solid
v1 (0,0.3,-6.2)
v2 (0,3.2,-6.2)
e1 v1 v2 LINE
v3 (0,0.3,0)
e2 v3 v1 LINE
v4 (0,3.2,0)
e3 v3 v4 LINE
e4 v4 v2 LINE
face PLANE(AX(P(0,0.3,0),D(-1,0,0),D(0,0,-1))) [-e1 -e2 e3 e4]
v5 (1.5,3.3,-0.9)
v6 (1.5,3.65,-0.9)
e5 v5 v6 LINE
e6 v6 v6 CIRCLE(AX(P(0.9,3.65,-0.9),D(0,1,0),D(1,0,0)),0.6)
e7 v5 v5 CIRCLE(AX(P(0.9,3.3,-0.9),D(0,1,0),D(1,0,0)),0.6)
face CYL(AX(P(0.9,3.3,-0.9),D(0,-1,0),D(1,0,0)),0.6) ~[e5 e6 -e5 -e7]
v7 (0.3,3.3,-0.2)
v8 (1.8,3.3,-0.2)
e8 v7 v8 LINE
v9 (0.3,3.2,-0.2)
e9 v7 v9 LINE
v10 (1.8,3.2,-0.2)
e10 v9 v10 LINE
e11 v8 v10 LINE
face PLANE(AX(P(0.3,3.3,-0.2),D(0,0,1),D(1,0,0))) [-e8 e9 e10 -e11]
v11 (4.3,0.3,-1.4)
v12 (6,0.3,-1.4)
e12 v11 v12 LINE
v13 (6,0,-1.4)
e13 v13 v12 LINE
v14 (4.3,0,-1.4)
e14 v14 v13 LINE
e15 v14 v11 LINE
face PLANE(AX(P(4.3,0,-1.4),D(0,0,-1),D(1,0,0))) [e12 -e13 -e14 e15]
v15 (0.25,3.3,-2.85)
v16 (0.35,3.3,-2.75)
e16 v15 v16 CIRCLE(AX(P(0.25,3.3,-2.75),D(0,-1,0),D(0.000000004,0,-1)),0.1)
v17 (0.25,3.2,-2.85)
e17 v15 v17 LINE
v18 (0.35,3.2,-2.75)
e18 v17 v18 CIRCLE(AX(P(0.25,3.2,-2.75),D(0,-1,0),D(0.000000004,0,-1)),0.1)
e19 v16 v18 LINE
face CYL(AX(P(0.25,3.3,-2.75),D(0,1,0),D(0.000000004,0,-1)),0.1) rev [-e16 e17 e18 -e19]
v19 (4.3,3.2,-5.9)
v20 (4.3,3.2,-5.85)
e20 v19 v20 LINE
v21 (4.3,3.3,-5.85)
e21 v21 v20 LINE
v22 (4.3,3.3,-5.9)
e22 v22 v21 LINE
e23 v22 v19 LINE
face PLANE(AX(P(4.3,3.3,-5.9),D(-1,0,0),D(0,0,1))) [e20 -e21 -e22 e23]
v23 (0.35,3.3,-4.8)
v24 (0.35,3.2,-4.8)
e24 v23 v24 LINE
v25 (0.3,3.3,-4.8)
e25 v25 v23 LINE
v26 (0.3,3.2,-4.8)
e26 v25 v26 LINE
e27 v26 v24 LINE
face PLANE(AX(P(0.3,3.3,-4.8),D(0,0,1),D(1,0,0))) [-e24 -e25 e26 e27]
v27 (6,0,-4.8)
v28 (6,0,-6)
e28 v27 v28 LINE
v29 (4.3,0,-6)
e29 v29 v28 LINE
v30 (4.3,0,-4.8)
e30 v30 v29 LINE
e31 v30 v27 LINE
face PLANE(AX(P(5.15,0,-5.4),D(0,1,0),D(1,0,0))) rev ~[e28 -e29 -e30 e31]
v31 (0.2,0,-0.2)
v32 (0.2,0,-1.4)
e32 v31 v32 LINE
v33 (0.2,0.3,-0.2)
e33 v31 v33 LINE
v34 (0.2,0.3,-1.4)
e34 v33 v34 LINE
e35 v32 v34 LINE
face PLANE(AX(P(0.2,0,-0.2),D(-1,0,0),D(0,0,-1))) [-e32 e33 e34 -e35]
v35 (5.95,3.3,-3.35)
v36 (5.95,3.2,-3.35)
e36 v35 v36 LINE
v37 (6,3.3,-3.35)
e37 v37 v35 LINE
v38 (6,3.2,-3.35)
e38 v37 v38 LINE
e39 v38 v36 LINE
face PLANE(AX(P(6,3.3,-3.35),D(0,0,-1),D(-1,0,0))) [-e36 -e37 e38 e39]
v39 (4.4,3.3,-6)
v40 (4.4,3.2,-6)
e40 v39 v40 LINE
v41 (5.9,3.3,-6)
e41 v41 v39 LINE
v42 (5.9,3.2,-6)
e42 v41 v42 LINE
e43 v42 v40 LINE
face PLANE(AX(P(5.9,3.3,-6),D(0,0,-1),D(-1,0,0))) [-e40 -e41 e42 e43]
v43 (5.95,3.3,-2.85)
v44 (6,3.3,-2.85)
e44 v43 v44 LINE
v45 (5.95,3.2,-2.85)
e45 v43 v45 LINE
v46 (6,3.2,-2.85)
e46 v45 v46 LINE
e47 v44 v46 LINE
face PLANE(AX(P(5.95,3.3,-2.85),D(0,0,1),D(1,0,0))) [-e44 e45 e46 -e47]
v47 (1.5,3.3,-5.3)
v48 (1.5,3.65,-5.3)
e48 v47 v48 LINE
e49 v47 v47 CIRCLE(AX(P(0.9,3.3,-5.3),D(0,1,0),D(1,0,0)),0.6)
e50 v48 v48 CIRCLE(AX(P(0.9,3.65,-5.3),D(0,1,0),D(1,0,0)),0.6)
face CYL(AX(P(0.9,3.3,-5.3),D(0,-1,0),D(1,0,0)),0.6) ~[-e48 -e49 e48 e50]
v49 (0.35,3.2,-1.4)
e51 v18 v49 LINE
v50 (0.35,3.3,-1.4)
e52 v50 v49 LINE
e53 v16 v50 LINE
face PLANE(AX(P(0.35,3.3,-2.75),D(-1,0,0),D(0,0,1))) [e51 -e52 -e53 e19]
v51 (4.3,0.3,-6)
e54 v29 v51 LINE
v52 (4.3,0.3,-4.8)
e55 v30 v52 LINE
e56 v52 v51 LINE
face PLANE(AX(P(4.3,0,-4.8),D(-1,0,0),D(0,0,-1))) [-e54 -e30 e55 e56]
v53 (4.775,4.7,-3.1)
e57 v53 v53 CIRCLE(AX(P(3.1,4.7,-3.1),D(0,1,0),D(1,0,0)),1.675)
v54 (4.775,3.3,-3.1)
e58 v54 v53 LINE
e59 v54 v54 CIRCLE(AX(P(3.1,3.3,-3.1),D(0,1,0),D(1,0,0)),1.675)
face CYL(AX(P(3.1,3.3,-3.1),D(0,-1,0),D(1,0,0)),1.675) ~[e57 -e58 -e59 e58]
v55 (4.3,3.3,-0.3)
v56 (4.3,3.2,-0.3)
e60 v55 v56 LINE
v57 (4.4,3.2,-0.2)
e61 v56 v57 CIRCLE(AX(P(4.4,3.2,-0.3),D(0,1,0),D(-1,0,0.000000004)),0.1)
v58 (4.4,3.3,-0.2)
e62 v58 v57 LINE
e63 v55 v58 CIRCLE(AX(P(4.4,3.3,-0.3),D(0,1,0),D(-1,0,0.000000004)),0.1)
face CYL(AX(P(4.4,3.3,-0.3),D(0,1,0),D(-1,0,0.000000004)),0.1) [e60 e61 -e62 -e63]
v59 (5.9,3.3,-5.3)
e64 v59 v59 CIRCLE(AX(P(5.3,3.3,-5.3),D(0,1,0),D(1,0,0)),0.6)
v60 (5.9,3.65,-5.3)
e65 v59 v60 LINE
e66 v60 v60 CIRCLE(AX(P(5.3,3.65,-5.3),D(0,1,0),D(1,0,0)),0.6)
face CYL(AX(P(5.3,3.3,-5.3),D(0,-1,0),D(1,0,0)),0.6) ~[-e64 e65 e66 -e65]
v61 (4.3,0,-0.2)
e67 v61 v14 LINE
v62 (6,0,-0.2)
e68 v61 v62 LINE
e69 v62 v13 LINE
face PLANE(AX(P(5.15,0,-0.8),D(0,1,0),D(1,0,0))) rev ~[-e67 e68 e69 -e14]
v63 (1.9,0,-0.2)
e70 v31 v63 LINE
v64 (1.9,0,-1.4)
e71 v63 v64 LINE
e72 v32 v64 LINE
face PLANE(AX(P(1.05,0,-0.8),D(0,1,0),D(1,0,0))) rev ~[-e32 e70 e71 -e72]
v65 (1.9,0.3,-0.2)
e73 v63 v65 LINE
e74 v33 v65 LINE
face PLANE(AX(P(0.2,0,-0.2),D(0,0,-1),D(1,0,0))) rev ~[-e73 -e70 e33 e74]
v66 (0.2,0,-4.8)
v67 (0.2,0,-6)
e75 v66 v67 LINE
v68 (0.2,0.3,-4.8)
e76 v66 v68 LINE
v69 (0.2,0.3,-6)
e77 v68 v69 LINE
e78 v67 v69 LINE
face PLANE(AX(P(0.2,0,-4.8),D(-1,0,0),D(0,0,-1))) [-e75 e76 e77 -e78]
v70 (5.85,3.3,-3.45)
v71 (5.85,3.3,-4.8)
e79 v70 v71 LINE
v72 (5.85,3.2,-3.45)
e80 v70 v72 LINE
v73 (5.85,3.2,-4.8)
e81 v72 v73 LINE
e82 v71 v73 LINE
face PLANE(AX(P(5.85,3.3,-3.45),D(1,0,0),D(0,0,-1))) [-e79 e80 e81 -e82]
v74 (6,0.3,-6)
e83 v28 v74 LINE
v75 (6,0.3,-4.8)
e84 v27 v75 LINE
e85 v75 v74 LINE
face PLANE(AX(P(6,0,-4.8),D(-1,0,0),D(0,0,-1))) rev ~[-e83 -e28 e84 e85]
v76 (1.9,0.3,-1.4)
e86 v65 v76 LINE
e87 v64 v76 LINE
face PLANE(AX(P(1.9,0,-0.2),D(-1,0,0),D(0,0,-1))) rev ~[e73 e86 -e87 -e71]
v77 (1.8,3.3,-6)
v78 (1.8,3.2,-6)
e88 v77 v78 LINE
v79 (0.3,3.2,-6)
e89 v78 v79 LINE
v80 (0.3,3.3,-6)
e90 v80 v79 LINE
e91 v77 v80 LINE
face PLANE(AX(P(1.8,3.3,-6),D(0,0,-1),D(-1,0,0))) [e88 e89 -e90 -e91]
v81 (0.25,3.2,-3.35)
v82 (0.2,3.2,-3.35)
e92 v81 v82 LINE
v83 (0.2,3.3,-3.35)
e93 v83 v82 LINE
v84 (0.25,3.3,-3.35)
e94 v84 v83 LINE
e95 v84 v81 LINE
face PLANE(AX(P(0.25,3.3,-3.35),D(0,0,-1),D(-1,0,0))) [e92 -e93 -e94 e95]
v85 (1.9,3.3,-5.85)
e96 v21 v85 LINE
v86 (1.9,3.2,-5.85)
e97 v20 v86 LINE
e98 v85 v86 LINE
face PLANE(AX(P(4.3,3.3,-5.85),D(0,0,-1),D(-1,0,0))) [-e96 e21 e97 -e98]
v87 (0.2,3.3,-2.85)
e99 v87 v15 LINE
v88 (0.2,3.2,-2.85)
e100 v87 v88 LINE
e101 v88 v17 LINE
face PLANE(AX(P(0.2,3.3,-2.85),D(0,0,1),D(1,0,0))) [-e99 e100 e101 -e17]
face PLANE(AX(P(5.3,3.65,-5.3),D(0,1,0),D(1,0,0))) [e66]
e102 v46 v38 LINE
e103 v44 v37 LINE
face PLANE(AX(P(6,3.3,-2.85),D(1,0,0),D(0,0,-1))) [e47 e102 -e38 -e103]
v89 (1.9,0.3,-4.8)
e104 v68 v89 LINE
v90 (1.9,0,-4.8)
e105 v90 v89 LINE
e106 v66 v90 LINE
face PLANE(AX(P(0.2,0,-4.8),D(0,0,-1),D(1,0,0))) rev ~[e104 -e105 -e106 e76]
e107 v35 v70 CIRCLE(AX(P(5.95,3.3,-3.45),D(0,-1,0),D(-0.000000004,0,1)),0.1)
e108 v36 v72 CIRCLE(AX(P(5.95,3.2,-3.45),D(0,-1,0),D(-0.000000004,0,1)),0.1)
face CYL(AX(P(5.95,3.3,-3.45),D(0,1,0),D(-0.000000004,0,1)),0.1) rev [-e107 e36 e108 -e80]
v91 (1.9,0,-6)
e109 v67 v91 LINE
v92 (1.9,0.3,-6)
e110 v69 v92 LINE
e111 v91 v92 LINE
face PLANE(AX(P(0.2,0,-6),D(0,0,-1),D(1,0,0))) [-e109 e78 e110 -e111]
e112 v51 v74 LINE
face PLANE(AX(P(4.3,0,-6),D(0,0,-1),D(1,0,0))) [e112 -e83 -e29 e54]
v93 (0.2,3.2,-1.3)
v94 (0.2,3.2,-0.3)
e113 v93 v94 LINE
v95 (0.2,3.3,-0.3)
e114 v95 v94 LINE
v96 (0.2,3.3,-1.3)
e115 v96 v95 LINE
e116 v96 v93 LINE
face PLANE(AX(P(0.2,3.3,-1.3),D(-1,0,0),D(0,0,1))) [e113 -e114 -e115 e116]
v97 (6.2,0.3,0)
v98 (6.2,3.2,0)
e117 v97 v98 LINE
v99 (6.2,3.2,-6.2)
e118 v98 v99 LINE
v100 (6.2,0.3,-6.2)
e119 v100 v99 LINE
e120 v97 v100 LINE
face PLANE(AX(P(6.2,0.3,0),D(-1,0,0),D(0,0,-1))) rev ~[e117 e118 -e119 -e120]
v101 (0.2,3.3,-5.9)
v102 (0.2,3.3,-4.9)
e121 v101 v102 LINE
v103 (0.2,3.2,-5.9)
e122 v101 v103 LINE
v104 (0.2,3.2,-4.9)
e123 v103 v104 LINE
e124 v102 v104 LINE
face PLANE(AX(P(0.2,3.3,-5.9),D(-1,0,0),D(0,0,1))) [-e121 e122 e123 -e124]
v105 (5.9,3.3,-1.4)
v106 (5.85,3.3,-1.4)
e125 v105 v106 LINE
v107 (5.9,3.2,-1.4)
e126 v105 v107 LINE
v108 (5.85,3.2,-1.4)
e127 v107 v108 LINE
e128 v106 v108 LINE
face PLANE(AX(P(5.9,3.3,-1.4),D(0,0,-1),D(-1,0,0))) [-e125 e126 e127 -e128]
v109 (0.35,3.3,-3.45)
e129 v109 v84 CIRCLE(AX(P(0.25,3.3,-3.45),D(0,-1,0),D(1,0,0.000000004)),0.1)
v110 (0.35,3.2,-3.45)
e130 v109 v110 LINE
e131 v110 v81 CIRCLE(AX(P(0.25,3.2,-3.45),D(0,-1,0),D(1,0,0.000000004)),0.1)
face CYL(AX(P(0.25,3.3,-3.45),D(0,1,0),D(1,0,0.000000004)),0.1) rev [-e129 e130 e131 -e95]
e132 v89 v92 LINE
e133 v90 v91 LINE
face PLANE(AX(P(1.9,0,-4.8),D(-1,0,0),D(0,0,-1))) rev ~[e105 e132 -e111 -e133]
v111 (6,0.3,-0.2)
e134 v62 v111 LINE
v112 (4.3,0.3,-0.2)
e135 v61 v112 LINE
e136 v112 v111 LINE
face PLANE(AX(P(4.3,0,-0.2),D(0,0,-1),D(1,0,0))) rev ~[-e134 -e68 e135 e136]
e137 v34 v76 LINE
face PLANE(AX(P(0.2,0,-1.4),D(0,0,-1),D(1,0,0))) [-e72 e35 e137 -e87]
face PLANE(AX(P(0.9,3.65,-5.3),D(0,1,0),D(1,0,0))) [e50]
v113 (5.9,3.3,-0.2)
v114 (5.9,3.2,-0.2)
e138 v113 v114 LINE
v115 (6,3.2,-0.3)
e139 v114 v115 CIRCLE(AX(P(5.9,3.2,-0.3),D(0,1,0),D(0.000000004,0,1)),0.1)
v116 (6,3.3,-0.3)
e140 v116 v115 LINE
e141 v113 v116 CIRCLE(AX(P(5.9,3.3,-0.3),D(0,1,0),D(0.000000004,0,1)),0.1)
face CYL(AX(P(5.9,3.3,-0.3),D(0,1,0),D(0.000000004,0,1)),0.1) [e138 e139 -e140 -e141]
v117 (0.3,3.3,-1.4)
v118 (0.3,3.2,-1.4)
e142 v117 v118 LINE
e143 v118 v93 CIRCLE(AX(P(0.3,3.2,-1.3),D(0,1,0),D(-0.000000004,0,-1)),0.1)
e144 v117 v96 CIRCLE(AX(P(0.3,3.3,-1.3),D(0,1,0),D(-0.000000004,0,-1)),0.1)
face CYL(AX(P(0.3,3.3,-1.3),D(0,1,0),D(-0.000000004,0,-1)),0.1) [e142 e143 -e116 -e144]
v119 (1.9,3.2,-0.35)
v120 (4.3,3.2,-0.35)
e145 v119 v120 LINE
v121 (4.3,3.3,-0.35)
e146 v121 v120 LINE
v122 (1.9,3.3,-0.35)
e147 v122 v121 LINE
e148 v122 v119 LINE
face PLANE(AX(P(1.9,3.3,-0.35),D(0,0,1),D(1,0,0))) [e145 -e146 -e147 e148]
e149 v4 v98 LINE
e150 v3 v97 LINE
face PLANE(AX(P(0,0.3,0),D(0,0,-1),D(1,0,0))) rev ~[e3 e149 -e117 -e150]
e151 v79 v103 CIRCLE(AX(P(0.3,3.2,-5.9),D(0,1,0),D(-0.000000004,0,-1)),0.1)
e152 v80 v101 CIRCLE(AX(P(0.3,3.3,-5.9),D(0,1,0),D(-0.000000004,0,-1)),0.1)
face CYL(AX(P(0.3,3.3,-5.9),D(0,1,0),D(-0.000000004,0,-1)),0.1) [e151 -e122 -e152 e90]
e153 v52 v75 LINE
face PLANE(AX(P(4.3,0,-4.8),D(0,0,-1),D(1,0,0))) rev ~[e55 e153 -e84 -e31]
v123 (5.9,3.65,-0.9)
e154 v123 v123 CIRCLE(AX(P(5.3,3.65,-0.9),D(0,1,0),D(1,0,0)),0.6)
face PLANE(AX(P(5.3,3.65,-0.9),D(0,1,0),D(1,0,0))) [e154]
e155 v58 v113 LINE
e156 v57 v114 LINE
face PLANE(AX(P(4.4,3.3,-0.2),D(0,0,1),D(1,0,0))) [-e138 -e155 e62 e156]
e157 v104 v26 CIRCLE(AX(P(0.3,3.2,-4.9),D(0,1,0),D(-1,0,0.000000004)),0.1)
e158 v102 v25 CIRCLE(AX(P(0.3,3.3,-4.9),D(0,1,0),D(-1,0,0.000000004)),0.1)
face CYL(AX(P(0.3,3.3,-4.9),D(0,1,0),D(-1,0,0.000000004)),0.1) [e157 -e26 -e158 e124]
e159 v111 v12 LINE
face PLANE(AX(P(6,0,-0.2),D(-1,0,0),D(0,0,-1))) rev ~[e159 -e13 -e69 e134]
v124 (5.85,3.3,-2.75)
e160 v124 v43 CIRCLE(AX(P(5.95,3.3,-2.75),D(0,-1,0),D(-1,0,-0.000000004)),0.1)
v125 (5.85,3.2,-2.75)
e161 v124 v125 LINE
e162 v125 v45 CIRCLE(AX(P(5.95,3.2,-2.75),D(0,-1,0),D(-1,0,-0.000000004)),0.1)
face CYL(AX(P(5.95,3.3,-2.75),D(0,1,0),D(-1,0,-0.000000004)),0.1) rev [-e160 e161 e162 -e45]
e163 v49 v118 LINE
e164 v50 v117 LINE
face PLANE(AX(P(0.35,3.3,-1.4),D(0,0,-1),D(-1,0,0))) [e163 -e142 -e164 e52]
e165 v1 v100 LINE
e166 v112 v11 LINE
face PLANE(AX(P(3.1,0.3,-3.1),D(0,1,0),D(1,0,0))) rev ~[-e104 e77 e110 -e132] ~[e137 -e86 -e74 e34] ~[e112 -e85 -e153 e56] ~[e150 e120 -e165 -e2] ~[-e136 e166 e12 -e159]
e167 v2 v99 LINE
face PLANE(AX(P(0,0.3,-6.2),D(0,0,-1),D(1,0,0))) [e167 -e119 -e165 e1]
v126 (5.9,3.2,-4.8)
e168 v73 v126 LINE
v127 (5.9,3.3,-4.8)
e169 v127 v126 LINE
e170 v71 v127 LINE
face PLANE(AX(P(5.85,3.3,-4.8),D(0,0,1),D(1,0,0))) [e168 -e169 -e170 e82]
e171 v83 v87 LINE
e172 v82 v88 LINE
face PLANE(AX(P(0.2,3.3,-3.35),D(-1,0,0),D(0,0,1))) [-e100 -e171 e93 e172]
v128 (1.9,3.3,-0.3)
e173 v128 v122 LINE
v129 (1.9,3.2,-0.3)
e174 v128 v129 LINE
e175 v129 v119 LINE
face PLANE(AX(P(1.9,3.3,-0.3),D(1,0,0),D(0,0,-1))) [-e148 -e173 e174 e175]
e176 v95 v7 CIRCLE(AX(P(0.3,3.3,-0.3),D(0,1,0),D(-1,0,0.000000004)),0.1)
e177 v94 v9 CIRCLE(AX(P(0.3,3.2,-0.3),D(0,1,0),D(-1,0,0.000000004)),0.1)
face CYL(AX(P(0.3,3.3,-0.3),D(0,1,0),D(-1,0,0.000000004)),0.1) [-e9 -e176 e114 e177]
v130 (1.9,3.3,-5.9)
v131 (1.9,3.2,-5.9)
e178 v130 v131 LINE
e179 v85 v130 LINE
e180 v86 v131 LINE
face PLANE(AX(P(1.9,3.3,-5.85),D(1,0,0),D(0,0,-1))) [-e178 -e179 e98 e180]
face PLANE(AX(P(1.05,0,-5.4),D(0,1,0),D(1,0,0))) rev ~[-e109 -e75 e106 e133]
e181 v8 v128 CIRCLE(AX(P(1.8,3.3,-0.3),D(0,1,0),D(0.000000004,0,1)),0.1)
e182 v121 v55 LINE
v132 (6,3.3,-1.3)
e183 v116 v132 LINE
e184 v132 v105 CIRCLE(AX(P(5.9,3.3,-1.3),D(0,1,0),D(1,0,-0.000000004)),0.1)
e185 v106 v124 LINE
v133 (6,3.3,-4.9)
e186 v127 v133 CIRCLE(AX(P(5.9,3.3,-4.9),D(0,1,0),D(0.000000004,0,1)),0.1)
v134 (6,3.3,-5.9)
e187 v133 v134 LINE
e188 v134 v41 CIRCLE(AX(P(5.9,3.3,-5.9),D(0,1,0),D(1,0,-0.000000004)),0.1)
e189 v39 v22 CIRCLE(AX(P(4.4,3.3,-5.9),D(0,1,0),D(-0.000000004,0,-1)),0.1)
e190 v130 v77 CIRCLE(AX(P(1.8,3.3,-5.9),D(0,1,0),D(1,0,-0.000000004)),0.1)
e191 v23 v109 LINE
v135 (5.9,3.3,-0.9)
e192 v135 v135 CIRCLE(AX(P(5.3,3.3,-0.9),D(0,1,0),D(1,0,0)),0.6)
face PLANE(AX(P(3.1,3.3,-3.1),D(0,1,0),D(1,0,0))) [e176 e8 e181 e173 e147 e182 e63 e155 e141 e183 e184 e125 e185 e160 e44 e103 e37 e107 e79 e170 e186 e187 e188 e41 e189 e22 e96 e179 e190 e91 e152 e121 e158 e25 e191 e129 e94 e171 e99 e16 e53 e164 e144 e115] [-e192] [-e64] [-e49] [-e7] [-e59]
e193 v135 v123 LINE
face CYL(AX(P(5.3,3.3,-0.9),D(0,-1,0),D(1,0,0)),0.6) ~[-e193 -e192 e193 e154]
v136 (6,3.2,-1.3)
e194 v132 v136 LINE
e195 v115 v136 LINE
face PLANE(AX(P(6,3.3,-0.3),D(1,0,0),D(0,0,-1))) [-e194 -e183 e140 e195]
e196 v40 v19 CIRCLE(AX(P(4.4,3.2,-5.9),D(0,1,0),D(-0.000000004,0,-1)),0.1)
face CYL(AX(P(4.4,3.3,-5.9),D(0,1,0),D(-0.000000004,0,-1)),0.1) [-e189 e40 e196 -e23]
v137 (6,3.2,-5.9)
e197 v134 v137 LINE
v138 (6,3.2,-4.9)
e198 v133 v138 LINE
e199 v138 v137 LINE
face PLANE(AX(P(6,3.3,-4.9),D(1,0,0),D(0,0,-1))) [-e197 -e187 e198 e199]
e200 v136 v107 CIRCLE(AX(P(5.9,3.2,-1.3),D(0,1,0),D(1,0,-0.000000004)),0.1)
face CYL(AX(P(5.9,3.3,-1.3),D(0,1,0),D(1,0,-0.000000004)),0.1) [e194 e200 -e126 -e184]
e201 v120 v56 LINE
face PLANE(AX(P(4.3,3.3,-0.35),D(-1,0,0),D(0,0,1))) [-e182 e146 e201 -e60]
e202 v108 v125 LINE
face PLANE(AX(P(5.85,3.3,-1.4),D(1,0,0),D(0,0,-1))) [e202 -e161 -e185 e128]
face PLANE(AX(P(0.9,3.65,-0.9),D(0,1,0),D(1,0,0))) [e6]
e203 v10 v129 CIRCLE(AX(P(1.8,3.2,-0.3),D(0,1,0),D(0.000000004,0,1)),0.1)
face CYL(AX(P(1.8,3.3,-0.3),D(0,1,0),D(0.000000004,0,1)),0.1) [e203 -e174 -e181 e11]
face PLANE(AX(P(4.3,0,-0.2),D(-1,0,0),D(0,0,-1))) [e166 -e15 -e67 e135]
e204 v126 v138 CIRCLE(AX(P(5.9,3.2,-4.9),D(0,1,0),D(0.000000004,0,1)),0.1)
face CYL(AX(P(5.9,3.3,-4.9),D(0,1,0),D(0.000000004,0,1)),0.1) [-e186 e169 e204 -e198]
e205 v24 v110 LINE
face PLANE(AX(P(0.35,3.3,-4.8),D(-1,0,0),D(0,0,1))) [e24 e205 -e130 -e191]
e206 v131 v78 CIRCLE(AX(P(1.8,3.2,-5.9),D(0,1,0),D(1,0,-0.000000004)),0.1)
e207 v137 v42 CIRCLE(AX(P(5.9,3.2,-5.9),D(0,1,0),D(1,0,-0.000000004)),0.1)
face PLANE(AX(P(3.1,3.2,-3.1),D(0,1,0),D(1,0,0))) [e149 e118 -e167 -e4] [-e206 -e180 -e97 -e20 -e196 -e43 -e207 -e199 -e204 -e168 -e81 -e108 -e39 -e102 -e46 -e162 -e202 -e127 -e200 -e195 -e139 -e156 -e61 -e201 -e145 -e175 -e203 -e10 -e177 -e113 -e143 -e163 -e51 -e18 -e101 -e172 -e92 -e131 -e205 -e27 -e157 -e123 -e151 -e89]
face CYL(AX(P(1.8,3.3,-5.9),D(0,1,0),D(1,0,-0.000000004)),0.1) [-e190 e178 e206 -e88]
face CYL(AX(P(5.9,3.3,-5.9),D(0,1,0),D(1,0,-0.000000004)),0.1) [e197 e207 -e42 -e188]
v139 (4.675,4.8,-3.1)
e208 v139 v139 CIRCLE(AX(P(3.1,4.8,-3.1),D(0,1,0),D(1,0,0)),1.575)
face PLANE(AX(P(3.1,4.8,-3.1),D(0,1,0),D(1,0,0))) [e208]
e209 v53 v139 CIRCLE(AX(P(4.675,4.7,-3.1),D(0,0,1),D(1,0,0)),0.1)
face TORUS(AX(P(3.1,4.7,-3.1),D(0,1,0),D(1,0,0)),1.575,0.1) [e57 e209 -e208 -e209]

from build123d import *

# Parameters (mm, degrees)
ESQUISSE1_W             = 1.7
ESQUISSE1_H             = 1.2
BOSS_EXTRU_1_DEPTH      = 0.3
BOSS_EXTRU_1_2_DEPTH    = 0.3
BOSS_EXTRU_1_3_DEPTH    = 0.3
BOSS_EXTRU_1_4_DEPTH    = 0.3
ESQUISSE2_W             = 6.2
ESQUISSE2_H             = 6.2
BOSS_EXTRU_2_DEPTH      = 3
ESQUISSE3_W             = 6.2
ESQUISSE3_H             = 6.2
ENL_V_MAT_EXTRU_1_DEPTH = 0.1
ESQUISSE4_R             = 0.6
BOSS_EXTRU_3_DEPTH      = 0.35
ESQUISSE5_R             = 1.675
BOSS_EXTRU_4_DEPTH      = 1.5
CONG_1_R                = 0.1


with BuildPart() as part:
    # Esquisse1 → Boss.-Extru.1 (new body)
    with BuildSketch(Plane(origin=(0, 0, 0), x_dir=(1, 0, 0), z_dir=(0, 1, 0))):
        with Locations((1.05, 5.4)):
            Rectangle(ESQUISSE1_W, ESQUISSE1_H)
    extrude(amount=BOSS_EXTRU_1_DEPTH)



with BuildPart() as body_2:
    # Esquisse1 → Boss.-Extru.1 2 (new body)
    with BuildSketch(Plane(origin=(0, 0, 0), x_dir=(1, 0, 0), z_dir=(0, 1, 0))):
        with Locations((1.05, 0.8)):
            Rectangle(ESQUISSE1_W, ESQUISSE1_H)
    extrude(amount=BOSS_EXTRU_1_2_DEPTH)


with BuildPart() as body_3:
    # Esquisse1 → Boss.-Extru.1 3 (new body)
    with BuildSketch(Plane(origin=(0, 0, 0), x_dir=(1, 0, 0), z_dir=(0, 1, 0))):
        with Locations((5.15, 0.8)):
            Rectangle(ESQUISSE1_W, ESQUISSE1_H)
    extrude(amount=BOSS_EXTRU_1_3_DEPTH)


with BuildPart() as body_4:
    # Esquisse1 → Boss.-Extru.1 4 (new body)
    with BuildSketch(Plane(origin=(0, 0, 0), x_dir=(1, 0, 0), z_dir=(0, 1, 0))):
        with Locations((5.15, 5.4)):
            Rectangle(ESQUISSE1_W, ESQUISSE1_H)
    extrude(amount=BOSS_EXTRU_1_4_DEPTH)


with BuildPart() as part_1:
    add(part.part)

    add(body_2.part)  # Boss.-Extru.2 merges body 2

    add(body_3.part)  # Boss.-Extru.2 merges body 3

    add(body_4.part)  # Boss.-Extru.2 merges body 4
    # Esquisse2 → Boss.-Extru.2 (add)
    with BuildSketch(Plane(origin=(0, 0.3, 0), x_dir=(1, 0, 0), z_dir=(0, 1, 0))):
        with Locations((3.1, 3.1)):
            Rectangle(ESQUISSE2_W, ESQUISSE2_H)
    extrude(amount=BOSS_EXTRU_2_DEPTH)

    # Esquisse3 → Enlèv. mat.-Extru.1 (cut)
    with BuildSketch(Plane(origin=(0, 3.3, 0), x_dir=(1, 0, 0), z_dir=(0, 1, 0))):
        with Locations((3.1, 3.1)):
            Rectangle(ESQUISSE3_W, ESQUISSE3_H)
        with BuildLine():
            Line((0.3, 0.2), (1.8, 0.2))
            ThreePointArc((1.8, 0.2), (1.870710678, 0.229289322), (1.9, 0.3))
            Line((1.9, 0.3), (1.9, 0.35))
            Line((1.9, 0.35), (4.3, 0.35))
            Line((4.3, 0.35), (4.3, 0.3))
            ThreePointArc((4.3, 0.3), (4.329289322, 0.229289322), (4.4, 0.2))
            Line((4.4, 0.2), (5.9, 0.2))
            ThreePointArc((5.9, 0.2), (5.970710678, 0.229289322), (6, 0.3))
            Line((6, 0.3), (6, 1.3))
            ThreePointArc((6, 1.3), (5.970710678, 1.370710678), (5.9, 1.4))
            Line((5.9, 1.4), (5.85, 1.4))
            Line((5.85, 1.4), (5.85, 2.75))
            ThreePointArc((5.85, 2.75), (5.879289322, 2.820710678), (5.95, 2.85))
            Line((5.95, 2.85), (6, 2.85))
            Line((6, 2.85), (6, 3.35))
            Line((6, 3.35), (5.95, 3.35))
            ThreePointArc((5.95, 3.35), (5.879289322, 3.379289322), (5.85, 3.45))
            Line((5.85, 3.45), (5.85, 4.8))
            Line((5.85, 4.8), (5.9, 4.8))
            ThreePointArc((5.9, 4.8), (5.970710678, 4.829289322), (6, 4.9))
            Line((6, 4.9), (6, 5.9))
            ThreePointArc((6, 5.9), (5.970710678, 5.970710678), (5.9, 6))
            Line((5.9, 6), (4.4, 6))
            ThreePointArc((4.4, 6), (4.329289322, 5.970710678), (4.3, 5.9))
            Line((4.3, 5.9), (4.3, 5.85))
            Line((4.3, 5.85), (1.9, 5.85))
            Line((1.9, 5.85), (1.9, 5.9))
            ThreePointArc((1.9, 5.9), (1.870710678, 5.970710678), (1.8, 6))
            Line((1.8, 6), (0.3, 6))
            ThreePointArc((0.3, 6), (0.229289322, 5.970710678), (0.2, 5.9))
            Line((0.2, 5.9), (0.2, 4.9))
            ThreePointArc((0.2, 4.9), (0.229289322, 4.829289322), (0.3, 4.8))
            Line((0.3, 4.8), (0.35, 4.8))
            Line((0.35, 4.8), (0.35, 3.45))
            ThreePointArc((0.35, 3.45), (0.320710678, 3.379289322), (0.25, 3.35))
            Line((0.25, 3.35), (0.2, 3.35))
            Line((0.2, 3.35), (0.2, 2.85))
            Line((0.2, 2.85), (0.25, 2.85))
            ThreePointArc((0.25, 2.85), (0.320710678, 2.820710678), (0.35, 2.75))
            Line((0.35, 2.75), (0.35, 1.4))
            Line((0.35, 1.4), (0.3, 1.4))
            ThreePointArc((0.3, 1.4), (0.229289322, 1.370710678), (0.2, 1.3))
            Line((0.2, 1.3), (0.2, 0.3))
            ThreePointArc((0.2, 0.3), (0.229289322, 0.229289322), (0.3, 0.2))
        make_face(mode=Mode.SUBTRACT)
    extrude(amount=-ENL_V_MAT_EXTRU_1_DEPTH, mode=Mode.SUBTRACT)

    # Esquisse4 → Boss.-Extru.3 (add)
    with BuildSketch(Plane(origin=(0, 3.3, 0), x_dir=(1, 0, 0), z_dir=(0, 1, 0))):
        with Locations((0.9, 5.3)):
            Circle(ESQUISSE4_R)
        with Locations((5.3, 5.3)):
            Circle(ESQUISSE4_R)
        with Locations((0.9, 0.9)):
            Circle(ESQUISSE4_R)
        with Locations((5.3, 0.9)):
            Circle(ESQUISSE4_R)
    extrude(amount=BOSS_EXTRU_3_DEPTH)

    # Esquisse5 → Boss.-Extru.4 (add)
    with BuildSketch(Plane(origin=(0, 3.3, 0), x_dir=(1, 0, 0), z_dir=(0, 1, 0))):
        with Locations((3.1, 3.1)):
            Circle(ESQUISSE5_R)
    extrude(amount=BOSS_EXTRU_4_DEPTH)

    # Congé1
    cong_1_edges = [part_1.edges().sort_by_distance(p)[0] for p in [
        (1.425, 4.8, -3.1),
    ]]
    fillet(cong_1_edges, radius=CONG_1_R)


solid = part_1.part
